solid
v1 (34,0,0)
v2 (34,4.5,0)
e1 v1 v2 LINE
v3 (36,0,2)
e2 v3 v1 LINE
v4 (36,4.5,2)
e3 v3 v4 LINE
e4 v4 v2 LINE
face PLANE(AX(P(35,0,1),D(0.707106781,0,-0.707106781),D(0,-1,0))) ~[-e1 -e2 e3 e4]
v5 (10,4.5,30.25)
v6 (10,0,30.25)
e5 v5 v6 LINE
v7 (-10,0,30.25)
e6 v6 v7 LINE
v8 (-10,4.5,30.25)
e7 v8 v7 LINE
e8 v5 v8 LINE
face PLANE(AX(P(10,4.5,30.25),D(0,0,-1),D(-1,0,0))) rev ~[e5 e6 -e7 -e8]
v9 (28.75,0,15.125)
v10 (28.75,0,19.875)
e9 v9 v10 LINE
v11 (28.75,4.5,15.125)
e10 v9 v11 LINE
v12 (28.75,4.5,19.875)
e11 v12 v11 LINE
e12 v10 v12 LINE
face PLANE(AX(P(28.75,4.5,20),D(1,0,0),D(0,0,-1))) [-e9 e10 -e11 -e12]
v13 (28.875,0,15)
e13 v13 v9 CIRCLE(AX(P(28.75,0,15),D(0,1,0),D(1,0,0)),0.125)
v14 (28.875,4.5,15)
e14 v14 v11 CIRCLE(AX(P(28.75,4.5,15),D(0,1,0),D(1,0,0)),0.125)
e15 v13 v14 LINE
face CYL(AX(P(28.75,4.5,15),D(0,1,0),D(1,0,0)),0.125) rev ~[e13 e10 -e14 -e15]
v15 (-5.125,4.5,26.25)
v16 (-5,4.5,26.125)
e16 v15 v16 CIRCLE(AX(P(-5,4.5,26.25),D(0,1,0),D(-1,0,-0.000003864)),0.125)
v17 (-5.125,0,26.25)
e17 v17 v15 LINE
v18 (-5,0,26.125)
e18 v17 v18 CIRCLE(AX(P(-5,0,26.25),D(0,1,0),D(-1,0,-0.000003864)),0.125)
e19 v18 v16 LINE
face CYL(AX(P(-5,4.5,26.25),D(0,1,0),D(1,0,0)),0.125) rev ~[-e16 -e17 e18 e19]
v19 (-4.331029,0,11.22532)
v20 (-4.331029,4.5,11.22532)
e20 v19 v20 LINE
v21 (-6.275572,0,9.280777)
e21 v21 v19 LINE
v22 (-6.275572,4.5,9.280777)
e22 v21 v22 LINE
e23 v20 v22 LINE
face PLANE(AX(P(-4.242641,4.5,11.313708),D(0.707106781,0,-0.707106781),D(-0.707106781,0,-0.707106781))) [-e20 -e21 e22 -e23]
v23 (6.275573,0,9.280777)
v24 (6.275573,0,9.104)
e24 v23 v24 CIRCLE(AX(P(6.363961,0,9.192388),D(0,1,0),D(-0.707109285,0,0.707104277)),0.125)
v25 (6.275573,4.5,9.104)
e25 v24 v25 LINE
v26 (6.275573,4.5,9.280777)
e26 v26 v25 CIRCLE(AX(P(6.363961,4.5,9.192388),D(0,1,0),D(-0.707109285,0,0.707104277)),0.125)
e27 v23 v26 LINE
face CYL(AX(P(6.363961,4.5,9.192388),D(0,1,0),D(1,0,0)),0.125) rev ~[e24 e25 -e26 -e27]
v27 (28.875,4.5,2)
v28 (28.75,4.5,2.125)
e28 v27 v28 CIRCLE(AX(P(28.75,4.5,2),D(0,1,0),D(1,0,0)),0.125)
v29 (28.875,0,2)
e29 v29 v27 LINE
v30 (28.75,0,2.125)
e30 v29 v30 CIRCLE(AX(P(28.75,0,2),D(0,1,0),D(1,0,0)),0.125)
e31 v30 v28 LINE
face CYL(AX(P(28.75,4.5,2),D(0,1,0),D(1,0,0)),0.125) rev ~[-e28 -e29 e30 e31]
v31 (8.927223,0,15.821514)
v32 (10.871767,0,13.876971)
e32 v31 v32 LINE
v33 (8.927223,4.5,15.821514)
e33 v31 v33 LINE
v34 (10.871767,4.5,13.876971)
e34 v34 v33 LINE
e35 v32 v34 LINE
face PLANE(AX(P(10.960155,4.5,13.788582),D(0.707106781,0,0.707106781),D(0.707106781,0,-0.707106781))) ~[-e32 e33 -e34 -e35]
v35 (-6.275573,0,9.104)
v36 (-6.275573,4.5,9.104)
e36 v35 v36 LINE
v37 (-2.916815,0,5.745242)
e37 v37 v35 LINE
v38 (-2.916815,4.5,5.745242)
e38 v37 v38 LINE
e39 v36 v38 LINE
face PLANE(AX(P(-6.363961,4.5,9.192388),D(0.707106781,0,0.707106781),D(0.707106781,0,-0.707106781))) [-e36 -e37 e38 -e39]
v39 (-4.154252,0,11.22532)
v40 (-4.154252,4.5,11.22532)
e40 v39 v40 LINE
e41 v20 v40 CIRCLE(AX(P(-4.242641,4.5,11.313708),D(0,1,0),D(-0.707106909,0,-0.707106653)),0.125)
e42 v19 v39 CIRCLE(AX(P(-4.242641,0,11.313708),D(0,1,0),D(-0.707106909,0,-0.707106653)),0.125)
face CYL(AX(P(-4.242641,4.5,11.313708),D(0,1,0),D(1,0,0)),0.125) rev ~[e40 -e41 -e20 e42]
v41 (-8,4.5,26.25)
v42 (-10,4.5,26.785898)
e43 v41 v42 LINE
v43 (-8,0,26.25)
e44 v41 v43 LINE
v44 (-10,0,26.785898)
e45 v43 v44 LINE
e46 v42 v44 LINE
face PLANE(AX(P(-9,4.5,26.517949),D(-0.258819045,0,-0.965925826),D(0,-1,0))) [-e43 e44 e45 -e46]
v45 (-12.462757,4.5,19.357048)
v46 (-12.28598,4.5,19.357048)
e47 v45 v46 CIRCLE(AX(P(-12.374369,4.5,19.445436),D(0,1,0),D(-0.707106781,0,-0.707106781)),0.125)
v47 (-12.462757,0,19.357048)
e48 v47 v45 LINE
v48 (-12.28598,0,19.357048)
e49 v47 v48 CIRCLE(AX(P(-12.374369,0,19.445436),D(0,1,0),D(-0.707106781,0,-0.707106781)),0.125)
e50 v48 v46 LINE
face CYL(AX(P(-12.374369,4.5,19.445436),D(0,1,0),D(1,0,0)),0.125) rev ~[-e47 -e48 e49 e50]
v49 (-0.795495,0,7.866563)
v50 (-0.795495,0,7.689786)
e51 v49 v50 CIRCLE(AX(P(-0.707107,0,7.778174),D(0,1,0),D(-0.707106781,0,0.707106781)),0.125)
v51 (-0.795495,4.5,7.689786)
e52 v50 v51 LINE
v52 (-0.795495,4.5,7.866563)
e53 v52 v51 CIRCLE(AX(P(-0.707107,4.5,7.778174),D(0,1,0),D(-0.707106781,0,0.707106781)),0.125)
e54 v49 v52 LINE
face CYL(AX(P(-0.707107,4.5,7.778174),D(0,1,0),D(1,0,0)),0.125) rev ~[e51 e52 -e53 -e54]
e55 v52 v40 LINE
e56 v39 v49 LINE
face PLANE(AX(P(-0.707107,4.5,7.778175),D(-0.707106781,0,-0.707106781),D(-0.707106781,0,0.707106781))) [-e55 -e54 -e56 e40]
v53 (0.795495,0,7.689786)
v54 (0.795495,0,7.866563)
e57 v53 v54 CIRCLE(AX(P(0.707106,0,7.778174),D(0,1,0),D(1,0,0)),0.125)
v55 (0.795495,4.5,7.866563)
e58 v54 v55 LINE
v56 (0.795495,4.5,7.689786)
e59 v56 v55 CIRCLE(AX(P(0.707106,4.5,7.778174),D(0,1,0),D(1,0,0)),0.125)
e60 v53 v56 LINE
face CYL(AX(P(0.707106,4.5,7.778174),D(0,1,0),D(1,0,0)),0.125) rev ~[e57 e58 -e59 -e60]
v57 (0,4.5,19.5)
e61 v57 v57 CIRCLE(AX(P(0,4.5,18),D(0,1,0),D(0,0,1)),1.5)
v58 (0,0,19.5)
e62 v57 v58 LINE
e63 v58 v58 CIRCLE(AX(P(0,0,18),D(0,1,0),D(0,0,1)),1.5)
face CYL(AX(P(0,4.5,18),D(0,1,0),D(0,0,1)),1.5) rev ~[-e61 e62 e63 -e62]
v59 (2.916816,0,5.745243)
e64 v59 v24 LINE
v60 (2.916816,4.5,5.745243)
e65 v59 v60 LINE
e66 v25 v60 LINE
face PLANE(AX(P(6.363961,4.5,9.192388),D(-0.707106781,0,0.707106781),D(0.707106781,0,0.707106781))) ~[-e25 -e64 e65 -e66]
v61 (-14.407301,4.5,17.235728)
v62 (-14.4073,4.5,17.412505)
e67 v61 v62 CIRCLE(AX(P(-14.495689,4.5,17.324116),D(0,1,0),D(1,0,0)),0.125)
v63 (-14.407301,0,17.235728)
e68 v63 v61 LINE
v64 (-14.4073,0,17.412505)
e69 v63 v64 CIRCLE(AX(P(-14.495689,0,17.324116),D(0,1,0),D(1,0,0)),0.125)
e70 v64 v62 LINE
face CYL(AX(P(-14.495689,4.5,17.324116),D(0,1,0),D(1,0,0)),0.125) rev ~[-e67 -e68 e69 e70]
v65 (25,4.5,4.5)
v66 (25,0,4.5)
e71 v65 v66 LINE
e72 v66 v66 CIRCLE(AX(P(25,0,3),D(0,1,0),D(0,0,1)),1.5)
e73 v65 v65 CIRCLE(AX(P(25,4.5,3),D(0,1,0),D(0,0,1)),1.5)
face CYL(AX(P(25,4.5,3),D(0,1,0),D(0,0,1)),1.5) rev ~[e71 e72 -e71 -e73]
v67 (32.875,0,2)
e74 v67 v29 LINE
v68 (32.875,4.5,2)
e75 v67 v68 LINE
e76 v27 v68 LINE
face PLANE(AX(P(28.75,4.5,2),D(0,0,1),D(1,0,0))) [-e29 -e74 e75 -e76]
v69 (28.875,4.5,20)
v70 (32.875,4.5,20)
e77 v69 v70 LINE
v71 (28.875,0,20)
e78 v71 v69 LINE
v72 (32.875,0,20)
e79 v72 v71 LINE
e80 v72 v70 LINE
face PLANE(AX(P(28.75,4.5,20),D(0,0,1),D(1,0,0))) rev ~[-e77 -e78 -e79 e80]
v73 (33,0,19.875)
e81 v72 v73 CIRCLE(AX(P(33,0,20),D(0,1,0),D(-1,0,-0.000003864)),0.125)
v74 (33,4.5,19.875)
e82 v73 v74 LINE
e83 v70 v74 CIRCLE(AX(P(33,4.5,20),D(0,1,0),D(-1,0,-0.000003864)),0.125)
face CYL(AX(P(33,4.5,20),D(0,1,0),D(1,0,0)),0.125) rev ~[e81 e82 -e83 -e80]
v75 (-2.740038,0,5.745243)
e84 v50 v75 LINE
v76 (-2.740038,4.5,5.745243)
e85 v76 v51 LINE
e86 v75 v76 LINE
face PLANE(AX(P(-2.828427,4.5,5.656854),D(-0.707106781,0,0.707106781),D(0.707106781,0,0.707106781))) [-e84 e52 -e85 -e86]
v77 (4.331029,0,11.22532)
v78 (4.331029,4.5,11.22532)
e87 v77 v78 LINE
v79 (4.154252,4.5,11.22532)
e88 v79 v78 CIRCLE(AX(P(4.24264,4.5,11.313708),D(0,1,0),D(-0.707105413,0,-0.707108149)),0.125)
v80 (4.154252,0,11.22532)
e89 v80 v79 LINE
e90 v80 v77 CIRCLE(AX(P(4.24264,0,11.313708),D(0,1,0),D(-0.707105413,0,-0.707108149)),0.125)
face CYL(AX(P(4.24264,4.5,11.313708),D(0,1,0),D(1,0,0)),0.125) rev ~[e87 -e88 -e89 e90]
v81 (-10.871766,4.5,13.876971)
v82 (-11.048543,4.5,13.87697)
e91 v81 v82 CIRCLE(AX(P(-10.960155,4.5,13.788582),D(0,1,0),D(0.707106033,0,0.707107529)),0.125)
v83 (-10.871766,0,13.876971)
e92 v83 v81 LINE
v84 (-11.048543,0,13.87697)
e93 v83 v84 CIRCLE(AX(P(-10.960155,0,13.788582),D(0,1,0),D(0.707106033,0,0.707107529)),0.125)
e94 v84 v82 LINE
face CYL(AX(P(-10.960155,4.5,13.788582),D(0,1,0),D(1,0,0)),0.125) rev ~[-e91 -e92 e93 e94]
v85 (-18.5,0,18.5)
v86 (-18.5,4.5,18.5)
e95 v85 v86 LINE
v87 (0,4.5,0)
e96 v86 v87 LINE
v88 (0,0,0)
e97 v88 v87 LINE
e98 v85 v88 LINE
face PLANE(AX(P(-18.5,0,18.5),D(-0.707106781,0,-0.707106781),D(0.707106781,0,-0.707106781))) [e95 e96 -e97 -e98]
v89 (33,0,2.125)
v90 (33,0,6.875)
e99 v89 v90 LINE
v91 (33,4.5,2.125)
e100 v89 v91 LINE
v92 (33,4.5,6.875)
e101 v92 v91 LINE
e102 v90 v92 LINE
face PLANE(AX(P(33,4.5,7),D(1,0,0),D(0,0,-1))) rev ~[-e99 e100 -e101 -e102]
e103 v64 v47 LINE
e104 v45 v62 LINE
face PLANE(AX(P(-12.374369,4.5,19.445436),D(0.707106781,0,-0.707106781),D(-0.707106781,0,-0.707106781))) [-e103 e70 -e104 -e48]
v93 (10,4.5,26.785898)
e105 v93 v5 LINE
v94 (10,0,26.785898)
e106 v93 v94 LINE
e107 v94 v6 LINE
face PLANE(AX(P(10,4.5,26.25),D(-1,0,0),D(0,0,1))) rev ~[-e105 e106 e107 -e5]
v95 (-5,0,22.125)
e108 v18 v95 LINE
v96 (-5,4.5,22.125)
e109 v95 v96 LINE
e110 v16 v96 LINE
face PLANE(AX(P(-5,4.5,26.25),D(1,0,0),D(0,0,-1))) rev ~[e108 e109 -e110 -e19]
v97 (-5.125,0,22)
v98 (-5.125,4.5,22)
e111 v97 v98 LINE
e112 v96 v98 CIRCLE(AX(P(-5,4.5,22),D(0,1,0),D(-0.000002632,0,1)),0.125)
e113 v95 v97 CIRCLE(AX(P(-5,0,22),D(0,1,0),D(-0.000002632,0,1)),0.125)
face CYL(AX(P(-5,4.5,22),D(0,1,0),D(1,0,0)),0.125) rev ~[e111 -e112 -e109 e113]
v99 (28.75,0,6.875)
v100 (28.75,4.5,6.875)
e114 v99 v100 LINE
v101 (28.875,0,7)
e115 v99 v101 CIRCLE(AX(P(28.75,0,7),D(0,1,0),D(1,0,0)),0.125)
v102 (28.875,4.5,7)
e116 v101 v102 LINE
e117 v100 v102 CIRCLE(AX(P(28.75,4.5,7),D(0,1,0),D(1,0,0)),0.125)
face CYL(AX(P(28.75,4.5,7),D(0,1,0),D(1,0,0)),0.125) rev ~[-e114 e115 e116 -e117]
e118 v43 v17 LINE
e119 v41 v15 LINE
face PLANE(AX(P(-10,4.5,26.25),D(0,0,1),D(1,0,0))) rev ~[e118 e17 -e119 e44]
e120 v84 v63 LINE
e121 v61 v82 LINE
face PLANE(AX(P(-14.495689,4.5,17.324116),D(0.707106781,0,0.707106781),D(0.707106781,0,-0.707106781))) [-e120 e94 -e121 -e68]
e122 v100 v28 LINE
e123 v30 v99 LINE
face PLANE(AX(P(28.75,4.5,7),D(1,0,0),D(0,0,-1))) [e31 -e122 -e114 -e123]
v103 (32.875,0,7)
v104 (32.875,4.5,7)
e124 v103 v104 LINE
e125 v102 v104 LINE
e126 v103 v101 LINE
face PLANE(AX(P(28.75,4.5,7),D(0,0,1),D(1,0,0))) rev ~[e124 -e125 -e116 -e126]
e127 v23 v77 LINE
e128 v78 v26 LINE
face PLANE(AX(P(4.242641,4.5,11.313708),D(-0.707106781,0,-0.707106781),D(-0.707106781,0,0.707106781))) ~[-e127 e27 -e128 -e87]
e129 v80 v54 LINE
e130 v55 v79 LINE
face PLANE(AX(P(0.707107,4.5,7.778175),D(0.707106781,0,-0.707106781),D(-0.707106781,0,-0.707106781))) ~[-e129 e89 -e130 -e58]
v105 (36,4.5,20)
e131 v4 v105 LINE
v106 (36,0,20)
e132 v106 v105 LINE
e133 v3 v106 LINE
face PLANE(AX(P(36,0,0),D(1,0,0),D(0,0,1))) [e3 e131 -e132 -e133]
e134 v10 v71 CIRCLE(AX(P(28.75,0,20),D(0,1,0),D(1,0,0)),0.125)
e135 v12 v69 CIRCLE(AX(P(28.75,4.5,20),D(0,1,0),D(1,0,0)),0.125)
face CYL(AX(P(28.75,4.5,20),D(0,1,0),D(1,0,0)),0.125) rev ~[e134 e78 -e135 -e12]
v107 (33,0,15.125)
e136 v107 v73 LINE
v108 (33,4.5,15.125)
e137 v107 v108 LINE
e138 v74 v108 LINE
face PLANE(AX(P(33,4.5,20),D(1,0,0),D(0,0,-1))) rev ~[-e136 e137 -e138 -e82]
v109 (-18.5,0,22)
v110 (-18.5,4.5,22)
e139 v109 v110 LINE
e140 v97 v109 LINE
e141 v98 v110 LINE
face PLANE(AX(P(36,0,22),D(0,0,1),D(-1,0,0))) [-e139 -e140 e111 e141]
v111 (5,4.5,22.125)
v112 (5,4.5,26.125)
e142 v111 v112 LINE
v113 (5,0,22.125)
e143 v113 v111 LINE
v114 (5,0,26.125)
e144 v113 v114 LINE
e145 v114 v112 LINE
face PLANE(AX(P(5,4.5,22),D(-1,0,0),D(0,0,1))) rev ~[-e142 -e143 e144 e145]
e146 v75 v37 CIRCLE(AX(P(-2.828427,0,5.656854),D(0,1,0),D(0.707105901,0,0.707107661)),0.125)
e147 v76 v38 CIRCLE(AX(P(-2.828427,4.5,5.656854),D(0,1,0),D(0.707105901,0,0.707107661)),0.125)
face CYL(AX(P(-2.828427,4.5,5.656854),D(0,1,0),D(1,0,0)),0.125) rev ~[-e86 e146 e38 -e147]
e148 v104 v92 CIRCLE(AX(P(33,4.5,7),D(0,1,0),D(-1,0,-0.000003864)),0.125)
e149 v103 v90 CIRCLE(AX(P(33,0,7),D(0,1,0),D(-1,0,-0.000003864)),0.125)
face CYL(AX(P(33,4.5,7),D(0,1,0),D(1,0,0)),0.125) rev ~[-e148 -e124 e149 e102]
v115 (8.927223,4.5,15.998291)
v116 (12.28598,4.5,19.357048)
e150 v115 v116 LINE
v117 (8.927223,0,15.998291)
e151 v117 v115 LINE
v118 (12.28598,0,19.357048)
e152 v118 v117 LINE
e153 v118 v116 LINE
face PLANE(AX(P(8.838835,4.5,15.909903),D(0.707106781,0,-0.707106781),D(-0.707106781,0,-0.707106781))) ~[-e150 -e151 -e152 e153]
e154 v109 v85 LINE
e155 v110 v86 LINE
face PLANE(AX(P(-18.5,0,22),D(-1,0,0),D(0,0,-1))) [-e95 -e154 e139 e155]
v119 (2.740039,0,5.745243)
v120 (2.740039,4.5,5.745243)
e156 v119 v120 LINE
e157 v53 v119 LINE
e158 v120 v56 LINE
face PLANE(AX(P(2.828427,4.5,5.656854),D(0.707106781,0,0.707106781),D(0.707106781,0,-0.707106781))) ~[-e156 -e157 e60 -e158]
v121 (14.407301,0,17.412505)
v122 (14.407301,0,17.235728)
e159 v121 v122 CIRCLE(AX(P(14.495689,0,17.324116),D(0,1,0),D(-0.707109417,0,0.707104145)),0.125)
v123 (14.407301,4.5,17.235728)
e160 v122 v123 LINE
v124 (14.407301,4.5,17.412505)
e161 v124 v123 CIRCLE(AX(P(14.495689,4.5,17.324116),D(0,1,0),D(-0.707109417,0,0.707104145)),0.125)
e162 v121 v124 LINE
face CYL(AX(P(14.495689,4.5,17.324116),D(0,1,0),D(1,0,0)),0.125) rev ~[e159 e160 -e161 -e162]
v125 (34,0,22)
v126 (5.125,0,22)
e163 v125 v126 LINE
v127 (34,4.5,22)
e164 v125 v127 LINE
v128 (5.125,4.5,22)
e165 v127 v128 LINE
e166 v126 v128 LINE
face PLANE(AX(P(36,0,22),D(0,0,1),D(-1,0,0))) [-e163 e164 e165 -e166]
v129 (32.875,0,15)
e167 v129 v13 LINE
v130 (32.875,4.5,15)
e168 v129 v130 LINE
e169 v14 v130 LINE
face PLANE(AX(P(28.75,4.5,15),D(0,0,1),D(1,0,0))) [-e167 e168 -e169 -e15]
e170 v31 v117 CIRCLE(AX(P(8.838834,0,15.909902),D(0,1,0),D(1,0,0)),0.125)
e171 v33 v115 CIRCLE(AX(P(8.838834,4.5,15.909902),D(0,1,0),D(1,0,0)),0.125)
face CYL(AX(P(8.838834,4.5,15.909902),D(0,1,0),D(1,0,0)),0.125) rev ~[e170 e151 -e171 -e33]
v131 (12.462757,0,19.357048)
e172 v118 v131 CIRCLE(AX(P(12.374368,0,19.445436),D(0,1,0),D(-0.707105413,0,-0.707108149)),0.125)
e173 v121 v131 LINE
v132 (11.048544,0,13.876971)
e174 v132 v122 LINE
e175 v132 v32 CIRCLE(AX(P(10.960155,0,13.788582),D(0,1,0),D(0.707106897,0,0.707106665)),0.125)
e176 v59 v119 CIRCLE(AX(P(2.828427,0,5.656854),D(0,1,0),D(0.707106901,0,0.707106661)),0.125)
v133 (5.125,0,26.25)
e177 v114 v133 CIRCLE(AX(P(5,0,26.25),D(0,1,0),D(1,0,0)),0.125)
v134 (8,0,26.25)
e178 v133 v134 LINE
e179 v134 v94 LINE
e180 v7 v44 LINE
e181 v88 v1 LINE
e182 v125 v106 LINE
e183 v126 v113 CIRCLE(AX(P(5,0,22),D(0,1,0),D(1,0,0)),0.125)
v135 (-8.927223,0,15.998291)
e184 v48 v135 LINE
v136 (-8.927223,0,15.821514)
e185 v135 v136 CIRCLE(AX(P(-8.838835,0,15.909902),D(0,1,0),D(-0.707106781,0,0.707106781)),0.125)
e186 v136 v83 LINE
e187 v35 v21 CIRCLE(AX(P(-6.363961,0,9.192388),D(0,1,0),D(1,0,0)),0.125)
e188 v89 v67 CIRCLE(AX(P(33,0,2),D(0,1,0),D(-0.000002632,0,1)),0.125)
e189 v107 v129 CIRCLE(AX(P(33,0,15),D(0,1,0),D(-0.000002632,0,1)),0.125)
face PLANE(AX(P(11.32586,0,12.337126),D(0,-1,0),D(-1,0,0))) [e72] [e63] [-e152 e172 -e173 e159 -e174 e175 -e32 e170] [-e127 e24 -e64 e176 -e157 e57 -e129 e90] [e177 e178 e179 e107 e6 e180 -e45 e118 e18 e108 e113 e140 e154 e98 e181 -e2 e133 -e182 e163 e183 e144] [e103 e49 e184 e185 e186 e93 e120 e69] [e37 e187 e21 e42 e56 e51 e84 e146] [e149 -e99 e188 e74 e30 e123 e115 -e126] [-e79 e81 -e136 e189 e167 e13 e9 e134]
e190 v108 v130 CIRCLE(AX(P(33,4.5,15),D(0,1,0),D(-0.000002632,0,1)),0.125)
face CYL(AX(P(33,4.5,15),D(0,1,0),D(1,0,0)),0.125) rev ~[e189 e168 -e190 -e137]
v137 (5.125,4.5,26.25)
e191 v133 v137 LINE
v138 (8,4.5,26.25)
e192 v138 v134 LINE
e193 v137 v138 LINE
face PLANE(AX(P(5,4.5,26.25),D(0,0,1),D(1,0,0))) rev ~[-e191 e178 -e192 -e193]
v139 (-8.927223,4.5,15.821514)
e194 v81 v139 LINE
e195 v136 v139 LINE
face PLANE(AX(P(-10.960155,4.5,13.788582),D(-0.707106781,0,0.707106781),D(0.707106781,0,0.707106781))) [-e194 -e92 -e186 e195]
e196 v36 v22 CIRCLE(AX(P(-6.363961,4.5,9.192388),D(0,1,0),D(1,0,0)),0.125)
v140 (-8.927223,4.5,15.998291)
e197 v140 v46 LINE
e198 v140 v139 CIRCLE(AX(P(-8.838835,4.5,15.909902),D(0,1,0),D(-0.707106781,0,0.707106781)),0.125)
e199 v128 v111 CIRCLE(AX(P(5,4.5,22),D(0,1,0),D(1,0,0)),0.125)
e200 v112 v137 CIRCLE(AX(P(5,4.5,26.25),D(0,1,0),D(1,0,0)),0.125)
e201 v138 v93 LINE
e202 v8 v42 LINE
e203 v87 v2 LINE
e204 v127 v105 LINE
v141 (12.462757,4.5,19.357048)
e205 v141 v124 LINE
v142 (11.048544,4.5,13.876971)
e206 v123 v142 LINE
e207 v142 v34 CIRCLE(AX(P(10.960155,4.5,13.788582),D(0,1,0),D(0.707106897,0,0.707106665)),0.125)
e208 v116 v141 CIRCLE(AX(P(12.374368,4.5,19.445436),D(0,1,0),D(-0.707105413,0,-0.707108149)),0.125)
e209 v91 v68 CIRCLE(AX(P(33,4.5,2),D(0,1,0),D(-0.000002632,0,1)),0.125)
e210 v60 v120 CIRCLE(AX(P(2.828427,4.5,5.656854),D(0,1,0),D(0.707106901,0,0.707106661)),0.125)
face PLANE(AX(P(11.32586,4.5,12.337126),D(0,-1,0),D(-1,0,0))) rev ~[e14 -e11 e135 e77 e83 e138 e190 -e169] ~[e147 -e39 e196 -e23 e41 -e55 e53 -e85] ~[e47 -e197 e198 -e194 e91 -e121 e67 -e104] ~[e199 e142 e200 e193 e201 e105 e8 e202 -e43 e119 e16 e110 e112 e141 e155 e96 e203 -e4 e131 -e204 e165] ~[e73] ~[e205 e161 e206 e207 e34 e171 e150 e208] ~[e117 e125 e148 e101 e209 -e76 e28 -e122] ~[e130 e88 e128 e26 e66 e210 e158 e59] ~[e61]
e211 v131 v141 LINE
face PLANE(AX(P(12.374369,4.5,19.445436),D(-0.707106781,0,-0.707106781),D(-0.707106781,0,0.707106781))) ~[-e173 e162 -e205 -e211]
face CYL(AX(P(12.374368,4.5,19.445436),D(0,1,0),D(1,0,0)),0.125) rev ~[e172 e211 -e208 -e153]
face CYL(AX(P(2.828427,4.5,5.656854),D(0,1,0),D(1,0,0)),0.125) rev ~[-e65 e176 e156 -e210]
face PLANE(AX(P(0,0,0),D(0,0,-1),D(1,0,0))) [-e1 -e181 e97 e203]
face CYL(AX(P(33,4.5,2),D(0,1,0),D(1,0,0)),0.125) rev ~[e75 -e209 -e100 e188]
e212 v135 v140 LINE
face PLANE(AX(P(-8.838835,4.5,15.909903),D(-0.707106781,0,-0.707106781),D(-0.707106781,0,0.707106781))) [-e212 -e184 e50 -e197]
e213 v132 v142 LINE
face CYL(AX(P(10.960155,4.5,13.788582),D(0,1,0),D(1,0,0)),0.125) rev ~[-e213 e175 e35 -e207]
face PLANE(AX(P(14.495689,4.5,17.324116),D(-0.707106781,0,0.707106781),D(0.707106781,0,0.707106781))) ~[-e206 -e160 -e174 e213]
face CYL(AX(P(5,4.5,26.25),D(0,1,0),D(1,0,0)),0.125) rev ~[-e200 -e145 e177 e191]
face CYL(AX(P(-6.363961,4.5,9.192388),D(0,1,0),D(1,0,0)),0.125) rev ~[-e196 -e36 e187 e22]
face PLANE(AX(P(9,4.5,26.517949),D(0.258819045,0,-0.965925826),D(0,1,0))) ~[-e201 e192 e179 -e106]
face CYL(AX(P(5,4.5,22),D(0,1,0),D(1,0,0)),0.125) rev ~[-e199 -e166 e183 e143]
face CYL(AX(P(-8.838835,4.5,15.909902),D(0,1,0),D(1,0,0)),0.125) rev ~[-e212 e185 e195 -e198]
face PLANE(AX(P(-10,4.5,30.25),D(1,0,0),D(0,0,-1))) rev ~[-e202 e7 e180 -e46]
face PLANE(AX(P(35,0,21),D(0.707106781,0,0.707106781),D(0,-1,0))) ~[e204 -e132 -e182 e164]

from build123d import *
from OCP.BRepFilletAPI import BRepFilletAPI_MakeChamfer

# Parameters (mm, degrees)
BOSS_EXTRUDE1_DEPTH = 4.5
CUT_EXTRUDE1_DEPTH  = 43.429353047
SKETCH3_W           = 4.25
SKETCH3_H           = 5
CUT_EXTRUDE2_DEPTH  = 43.429353047
SKETCH4_R           = 1.5
CUT_EXTRUDE3_DEPTH  = 43.429353047
BOSS_EXTRUDE2_DEPTH = 4.5
CHAMFER1_SIZE       = 2
CHAMFER1_SIZE2      = 0.535898385
CHAMFER2_SIZE       = 2
SKETCH8_R           = 0.125
CUT_EXTRUDE4_DEPTH  = 48.236770635


with BuildPart() as part:
    # Sketch1 → Boss-Extrude1 (new body)
    with BuildSketch(Plane(origin=(0, 0, 0), x_dir=(1, 0, 0), z_dir=(0, 1, 0))):
        Polygon((-18.5, -18.5), (0, 0), (36, 0), (36, -22), (-18.5, -22), align=None)
    extrude(amount=BOSS_EXTRUDE1_DEPTH)

    # Sketch2 → Cut-Extrude1 (cut, through all)
    with BuildSketch(Plane(origin=(0, 4.5, 0), x_dir=(1, 0, 0), z_dir=(0, 1, 0))):
        Polygon((-6.363961031, -9.192388155), (-2.828427125, -5.656854249), (-0.707106781, -7.778174593), (-4.242640687, -11.313708499), align=None)
        Polygon((-10.960155108, -13.788582233), (-8.838834765, -15.909902577), (-12.374368671, -19.445436483), (-14.495689014, -17.324116139), align=None)
    cut_extrude1 = extrude(amount=-CUT_EXTRUDE1_DEPTH, mode=Mode.SUBTRACT)

    # Mirror1: Cut-Extrude1 across plane
    add(cut_extrude1.mirror(Plane(origin=(0, 0, 0), x_dir=(0, 0, 1), z_dir=(1, 0, 0))), mode=Mode.SUBTRACT)

    # Sketch3 → Cut-Extrude2 (cut, through all)
    with BuildSketch(Plane(origin=(0, 4.5, 0), x_dir=(1, 0, 0), z_dir=(0, 1, 0))):
        with Locations((30.875, -4.5)):
            Rectangle(SKETCH3_W, SKETCH3_H)
        with Locations((30.875, -17.5)):
            Rectangle(SKETCH3_W, SKETCH3_H)
    extrude(amount=-CUT_EXTRUDE2_DEPTH, mode=Mode.SUBTRACT)

    # Sketch4 → Cut-Extrude3 (cut, through all)
    with BuildSketch(Plane(origin=(0, 4.5, 0), x_dir=(1, 0, 0), z_dir=(0, 1, 0))):
        with Locations(Location((0, -18, 0), (0, 0, 270))):
            Circle(SKETCH4_R)
        with Locations(Location((25, -3, 0), (0, 0, 270))):
            Circle(SKETCH4_R)
    extrude(amount=-CUT_EXTRUDE3_DEPTH, mode=Mode.SUBTRACT)

    # Sketch5 → Boss-Extrude2 (add)
    with BuildSketch(Plane(origin=(0, 4.5, 0), x_dir=(1, 0, 0), z_dir=(0, 1, 0))):
        Polygon((-5, -22), (5, -22), (5, -26.25), (10, -26.25), (10, -30.25), (-10, -30.25), (-10, -26.25), (-5, -26.25), align=None)
    extrude(amount=-BOSS_EXTRUDE2_DEPTH)

    # Chamfer1: one chamfer whose edges measure the first distance from different faces: ONE call of the kernel's chamfer builder (chamfer() names one face for all edges)
    chamfer1_edges_1 = [part.edges().sort_by_distance(p)[0] for p in [
        (-10, 2.25, 26.25),
    ]]
    chamfer1_side_1 = [part.faces().sort_by_distance(p)[0] for p in [
        (-7.5, 2.25, 26.25),
    ]]
    chamfer1_edges_2 = [part.edges().sort_by_distance(p)[0] for p in [
        (10, 2.25, 26.25),
    ]]
    chamfer1_side_2 = [part.faces().sort_by_distance(p)[0] for p in [
        (7.5, 2.25, 26.25),
    ]]
    chamfer1 = BRepFilletAPI_MakeChamfer(part.part.solid().wrapped)
    for e in chamfer1_edges_1:
        chamfer1.Add(CHAMFER1_SIZE, CHAMFER1_SIZE2, e.wrapped, chamfer1_side_1[0].wrapped)  # the first distance lies on this face
    for e in chamfer1_edges_2:
        chamfer1.Add(CHAMFER1_SIZE, CHAMFER1_SIZE2, e.wrapped, chamfer1_side_2[0].wrapped)  # the first distance lies on this face
    add(Compound.cast(chamfer1.Shape()), mode=Mode.REPLACE)

    # Chamfer2
    chamfer2_edges = [part.edges().sort_by_distance(p)[0] for p in [
        (36, 2.25, 0),
        (36, 2.25, 22),
    ]]
    chamfer(chamfer2_edges, length=CHAMFER2_SIZE)

    # Sketch8 → Cut-Extrude4 (cut, through all)
    with BuildSketch(Plane(origin=(0, 4.5, 0), x_dir=(1, 0, 0), z_dir=(0, 1, 0))):
        with Locations((-12.374368671, -19.445436483)):
            Circle(SKETCH8_R)
    cut_extrude4 = extrude(amount=-CUT_EXTRUDE4_DEPTH, mode=Mode.SUBTRACT)

    # Sketch-Pattern1: Cut-Extrude4 at 27 more places
    with Locations((-2.12132, 0, -2.12132), (1.414214, 0, -5.656854), (3.535534, 0, -3.535534), (8.131728, 0, -8.131728), (6.010408, 0, -10.253048), (9.545942, 0, -13.788582), (11.667262, 0, -11.667262), (13.081475, 0, -11.667262), (15.202796, 0, -13.788582), (18.73833, 0, -10.253048), (16.617009, 0, -8.131728), (23.334524, 0, -5.656854), (21.213203, 0, -3.535534), (24.748737, 0, 0), (26.870058, 0, -2.12132), (41.124369, 0, -12.445436), (41.124369, 0, -17.445436), (45.374369, 0, -17.445436), (45.374369, 0, -12.445436), (45.374369, 0, -4.445436), (41.124369, 0, -4.445436), (41.124369, 0, 0.554564), (45.374369, 0, 0.554564), (17.374369, 0, 6.804564), (7.374369, 0, 6.804564), (7.374369, 0, 2.554564), (17.374369, 0, 2.554564)):
        add(cut_extrude4, mode=Mode.SUBTRACT)


solid = part.part
